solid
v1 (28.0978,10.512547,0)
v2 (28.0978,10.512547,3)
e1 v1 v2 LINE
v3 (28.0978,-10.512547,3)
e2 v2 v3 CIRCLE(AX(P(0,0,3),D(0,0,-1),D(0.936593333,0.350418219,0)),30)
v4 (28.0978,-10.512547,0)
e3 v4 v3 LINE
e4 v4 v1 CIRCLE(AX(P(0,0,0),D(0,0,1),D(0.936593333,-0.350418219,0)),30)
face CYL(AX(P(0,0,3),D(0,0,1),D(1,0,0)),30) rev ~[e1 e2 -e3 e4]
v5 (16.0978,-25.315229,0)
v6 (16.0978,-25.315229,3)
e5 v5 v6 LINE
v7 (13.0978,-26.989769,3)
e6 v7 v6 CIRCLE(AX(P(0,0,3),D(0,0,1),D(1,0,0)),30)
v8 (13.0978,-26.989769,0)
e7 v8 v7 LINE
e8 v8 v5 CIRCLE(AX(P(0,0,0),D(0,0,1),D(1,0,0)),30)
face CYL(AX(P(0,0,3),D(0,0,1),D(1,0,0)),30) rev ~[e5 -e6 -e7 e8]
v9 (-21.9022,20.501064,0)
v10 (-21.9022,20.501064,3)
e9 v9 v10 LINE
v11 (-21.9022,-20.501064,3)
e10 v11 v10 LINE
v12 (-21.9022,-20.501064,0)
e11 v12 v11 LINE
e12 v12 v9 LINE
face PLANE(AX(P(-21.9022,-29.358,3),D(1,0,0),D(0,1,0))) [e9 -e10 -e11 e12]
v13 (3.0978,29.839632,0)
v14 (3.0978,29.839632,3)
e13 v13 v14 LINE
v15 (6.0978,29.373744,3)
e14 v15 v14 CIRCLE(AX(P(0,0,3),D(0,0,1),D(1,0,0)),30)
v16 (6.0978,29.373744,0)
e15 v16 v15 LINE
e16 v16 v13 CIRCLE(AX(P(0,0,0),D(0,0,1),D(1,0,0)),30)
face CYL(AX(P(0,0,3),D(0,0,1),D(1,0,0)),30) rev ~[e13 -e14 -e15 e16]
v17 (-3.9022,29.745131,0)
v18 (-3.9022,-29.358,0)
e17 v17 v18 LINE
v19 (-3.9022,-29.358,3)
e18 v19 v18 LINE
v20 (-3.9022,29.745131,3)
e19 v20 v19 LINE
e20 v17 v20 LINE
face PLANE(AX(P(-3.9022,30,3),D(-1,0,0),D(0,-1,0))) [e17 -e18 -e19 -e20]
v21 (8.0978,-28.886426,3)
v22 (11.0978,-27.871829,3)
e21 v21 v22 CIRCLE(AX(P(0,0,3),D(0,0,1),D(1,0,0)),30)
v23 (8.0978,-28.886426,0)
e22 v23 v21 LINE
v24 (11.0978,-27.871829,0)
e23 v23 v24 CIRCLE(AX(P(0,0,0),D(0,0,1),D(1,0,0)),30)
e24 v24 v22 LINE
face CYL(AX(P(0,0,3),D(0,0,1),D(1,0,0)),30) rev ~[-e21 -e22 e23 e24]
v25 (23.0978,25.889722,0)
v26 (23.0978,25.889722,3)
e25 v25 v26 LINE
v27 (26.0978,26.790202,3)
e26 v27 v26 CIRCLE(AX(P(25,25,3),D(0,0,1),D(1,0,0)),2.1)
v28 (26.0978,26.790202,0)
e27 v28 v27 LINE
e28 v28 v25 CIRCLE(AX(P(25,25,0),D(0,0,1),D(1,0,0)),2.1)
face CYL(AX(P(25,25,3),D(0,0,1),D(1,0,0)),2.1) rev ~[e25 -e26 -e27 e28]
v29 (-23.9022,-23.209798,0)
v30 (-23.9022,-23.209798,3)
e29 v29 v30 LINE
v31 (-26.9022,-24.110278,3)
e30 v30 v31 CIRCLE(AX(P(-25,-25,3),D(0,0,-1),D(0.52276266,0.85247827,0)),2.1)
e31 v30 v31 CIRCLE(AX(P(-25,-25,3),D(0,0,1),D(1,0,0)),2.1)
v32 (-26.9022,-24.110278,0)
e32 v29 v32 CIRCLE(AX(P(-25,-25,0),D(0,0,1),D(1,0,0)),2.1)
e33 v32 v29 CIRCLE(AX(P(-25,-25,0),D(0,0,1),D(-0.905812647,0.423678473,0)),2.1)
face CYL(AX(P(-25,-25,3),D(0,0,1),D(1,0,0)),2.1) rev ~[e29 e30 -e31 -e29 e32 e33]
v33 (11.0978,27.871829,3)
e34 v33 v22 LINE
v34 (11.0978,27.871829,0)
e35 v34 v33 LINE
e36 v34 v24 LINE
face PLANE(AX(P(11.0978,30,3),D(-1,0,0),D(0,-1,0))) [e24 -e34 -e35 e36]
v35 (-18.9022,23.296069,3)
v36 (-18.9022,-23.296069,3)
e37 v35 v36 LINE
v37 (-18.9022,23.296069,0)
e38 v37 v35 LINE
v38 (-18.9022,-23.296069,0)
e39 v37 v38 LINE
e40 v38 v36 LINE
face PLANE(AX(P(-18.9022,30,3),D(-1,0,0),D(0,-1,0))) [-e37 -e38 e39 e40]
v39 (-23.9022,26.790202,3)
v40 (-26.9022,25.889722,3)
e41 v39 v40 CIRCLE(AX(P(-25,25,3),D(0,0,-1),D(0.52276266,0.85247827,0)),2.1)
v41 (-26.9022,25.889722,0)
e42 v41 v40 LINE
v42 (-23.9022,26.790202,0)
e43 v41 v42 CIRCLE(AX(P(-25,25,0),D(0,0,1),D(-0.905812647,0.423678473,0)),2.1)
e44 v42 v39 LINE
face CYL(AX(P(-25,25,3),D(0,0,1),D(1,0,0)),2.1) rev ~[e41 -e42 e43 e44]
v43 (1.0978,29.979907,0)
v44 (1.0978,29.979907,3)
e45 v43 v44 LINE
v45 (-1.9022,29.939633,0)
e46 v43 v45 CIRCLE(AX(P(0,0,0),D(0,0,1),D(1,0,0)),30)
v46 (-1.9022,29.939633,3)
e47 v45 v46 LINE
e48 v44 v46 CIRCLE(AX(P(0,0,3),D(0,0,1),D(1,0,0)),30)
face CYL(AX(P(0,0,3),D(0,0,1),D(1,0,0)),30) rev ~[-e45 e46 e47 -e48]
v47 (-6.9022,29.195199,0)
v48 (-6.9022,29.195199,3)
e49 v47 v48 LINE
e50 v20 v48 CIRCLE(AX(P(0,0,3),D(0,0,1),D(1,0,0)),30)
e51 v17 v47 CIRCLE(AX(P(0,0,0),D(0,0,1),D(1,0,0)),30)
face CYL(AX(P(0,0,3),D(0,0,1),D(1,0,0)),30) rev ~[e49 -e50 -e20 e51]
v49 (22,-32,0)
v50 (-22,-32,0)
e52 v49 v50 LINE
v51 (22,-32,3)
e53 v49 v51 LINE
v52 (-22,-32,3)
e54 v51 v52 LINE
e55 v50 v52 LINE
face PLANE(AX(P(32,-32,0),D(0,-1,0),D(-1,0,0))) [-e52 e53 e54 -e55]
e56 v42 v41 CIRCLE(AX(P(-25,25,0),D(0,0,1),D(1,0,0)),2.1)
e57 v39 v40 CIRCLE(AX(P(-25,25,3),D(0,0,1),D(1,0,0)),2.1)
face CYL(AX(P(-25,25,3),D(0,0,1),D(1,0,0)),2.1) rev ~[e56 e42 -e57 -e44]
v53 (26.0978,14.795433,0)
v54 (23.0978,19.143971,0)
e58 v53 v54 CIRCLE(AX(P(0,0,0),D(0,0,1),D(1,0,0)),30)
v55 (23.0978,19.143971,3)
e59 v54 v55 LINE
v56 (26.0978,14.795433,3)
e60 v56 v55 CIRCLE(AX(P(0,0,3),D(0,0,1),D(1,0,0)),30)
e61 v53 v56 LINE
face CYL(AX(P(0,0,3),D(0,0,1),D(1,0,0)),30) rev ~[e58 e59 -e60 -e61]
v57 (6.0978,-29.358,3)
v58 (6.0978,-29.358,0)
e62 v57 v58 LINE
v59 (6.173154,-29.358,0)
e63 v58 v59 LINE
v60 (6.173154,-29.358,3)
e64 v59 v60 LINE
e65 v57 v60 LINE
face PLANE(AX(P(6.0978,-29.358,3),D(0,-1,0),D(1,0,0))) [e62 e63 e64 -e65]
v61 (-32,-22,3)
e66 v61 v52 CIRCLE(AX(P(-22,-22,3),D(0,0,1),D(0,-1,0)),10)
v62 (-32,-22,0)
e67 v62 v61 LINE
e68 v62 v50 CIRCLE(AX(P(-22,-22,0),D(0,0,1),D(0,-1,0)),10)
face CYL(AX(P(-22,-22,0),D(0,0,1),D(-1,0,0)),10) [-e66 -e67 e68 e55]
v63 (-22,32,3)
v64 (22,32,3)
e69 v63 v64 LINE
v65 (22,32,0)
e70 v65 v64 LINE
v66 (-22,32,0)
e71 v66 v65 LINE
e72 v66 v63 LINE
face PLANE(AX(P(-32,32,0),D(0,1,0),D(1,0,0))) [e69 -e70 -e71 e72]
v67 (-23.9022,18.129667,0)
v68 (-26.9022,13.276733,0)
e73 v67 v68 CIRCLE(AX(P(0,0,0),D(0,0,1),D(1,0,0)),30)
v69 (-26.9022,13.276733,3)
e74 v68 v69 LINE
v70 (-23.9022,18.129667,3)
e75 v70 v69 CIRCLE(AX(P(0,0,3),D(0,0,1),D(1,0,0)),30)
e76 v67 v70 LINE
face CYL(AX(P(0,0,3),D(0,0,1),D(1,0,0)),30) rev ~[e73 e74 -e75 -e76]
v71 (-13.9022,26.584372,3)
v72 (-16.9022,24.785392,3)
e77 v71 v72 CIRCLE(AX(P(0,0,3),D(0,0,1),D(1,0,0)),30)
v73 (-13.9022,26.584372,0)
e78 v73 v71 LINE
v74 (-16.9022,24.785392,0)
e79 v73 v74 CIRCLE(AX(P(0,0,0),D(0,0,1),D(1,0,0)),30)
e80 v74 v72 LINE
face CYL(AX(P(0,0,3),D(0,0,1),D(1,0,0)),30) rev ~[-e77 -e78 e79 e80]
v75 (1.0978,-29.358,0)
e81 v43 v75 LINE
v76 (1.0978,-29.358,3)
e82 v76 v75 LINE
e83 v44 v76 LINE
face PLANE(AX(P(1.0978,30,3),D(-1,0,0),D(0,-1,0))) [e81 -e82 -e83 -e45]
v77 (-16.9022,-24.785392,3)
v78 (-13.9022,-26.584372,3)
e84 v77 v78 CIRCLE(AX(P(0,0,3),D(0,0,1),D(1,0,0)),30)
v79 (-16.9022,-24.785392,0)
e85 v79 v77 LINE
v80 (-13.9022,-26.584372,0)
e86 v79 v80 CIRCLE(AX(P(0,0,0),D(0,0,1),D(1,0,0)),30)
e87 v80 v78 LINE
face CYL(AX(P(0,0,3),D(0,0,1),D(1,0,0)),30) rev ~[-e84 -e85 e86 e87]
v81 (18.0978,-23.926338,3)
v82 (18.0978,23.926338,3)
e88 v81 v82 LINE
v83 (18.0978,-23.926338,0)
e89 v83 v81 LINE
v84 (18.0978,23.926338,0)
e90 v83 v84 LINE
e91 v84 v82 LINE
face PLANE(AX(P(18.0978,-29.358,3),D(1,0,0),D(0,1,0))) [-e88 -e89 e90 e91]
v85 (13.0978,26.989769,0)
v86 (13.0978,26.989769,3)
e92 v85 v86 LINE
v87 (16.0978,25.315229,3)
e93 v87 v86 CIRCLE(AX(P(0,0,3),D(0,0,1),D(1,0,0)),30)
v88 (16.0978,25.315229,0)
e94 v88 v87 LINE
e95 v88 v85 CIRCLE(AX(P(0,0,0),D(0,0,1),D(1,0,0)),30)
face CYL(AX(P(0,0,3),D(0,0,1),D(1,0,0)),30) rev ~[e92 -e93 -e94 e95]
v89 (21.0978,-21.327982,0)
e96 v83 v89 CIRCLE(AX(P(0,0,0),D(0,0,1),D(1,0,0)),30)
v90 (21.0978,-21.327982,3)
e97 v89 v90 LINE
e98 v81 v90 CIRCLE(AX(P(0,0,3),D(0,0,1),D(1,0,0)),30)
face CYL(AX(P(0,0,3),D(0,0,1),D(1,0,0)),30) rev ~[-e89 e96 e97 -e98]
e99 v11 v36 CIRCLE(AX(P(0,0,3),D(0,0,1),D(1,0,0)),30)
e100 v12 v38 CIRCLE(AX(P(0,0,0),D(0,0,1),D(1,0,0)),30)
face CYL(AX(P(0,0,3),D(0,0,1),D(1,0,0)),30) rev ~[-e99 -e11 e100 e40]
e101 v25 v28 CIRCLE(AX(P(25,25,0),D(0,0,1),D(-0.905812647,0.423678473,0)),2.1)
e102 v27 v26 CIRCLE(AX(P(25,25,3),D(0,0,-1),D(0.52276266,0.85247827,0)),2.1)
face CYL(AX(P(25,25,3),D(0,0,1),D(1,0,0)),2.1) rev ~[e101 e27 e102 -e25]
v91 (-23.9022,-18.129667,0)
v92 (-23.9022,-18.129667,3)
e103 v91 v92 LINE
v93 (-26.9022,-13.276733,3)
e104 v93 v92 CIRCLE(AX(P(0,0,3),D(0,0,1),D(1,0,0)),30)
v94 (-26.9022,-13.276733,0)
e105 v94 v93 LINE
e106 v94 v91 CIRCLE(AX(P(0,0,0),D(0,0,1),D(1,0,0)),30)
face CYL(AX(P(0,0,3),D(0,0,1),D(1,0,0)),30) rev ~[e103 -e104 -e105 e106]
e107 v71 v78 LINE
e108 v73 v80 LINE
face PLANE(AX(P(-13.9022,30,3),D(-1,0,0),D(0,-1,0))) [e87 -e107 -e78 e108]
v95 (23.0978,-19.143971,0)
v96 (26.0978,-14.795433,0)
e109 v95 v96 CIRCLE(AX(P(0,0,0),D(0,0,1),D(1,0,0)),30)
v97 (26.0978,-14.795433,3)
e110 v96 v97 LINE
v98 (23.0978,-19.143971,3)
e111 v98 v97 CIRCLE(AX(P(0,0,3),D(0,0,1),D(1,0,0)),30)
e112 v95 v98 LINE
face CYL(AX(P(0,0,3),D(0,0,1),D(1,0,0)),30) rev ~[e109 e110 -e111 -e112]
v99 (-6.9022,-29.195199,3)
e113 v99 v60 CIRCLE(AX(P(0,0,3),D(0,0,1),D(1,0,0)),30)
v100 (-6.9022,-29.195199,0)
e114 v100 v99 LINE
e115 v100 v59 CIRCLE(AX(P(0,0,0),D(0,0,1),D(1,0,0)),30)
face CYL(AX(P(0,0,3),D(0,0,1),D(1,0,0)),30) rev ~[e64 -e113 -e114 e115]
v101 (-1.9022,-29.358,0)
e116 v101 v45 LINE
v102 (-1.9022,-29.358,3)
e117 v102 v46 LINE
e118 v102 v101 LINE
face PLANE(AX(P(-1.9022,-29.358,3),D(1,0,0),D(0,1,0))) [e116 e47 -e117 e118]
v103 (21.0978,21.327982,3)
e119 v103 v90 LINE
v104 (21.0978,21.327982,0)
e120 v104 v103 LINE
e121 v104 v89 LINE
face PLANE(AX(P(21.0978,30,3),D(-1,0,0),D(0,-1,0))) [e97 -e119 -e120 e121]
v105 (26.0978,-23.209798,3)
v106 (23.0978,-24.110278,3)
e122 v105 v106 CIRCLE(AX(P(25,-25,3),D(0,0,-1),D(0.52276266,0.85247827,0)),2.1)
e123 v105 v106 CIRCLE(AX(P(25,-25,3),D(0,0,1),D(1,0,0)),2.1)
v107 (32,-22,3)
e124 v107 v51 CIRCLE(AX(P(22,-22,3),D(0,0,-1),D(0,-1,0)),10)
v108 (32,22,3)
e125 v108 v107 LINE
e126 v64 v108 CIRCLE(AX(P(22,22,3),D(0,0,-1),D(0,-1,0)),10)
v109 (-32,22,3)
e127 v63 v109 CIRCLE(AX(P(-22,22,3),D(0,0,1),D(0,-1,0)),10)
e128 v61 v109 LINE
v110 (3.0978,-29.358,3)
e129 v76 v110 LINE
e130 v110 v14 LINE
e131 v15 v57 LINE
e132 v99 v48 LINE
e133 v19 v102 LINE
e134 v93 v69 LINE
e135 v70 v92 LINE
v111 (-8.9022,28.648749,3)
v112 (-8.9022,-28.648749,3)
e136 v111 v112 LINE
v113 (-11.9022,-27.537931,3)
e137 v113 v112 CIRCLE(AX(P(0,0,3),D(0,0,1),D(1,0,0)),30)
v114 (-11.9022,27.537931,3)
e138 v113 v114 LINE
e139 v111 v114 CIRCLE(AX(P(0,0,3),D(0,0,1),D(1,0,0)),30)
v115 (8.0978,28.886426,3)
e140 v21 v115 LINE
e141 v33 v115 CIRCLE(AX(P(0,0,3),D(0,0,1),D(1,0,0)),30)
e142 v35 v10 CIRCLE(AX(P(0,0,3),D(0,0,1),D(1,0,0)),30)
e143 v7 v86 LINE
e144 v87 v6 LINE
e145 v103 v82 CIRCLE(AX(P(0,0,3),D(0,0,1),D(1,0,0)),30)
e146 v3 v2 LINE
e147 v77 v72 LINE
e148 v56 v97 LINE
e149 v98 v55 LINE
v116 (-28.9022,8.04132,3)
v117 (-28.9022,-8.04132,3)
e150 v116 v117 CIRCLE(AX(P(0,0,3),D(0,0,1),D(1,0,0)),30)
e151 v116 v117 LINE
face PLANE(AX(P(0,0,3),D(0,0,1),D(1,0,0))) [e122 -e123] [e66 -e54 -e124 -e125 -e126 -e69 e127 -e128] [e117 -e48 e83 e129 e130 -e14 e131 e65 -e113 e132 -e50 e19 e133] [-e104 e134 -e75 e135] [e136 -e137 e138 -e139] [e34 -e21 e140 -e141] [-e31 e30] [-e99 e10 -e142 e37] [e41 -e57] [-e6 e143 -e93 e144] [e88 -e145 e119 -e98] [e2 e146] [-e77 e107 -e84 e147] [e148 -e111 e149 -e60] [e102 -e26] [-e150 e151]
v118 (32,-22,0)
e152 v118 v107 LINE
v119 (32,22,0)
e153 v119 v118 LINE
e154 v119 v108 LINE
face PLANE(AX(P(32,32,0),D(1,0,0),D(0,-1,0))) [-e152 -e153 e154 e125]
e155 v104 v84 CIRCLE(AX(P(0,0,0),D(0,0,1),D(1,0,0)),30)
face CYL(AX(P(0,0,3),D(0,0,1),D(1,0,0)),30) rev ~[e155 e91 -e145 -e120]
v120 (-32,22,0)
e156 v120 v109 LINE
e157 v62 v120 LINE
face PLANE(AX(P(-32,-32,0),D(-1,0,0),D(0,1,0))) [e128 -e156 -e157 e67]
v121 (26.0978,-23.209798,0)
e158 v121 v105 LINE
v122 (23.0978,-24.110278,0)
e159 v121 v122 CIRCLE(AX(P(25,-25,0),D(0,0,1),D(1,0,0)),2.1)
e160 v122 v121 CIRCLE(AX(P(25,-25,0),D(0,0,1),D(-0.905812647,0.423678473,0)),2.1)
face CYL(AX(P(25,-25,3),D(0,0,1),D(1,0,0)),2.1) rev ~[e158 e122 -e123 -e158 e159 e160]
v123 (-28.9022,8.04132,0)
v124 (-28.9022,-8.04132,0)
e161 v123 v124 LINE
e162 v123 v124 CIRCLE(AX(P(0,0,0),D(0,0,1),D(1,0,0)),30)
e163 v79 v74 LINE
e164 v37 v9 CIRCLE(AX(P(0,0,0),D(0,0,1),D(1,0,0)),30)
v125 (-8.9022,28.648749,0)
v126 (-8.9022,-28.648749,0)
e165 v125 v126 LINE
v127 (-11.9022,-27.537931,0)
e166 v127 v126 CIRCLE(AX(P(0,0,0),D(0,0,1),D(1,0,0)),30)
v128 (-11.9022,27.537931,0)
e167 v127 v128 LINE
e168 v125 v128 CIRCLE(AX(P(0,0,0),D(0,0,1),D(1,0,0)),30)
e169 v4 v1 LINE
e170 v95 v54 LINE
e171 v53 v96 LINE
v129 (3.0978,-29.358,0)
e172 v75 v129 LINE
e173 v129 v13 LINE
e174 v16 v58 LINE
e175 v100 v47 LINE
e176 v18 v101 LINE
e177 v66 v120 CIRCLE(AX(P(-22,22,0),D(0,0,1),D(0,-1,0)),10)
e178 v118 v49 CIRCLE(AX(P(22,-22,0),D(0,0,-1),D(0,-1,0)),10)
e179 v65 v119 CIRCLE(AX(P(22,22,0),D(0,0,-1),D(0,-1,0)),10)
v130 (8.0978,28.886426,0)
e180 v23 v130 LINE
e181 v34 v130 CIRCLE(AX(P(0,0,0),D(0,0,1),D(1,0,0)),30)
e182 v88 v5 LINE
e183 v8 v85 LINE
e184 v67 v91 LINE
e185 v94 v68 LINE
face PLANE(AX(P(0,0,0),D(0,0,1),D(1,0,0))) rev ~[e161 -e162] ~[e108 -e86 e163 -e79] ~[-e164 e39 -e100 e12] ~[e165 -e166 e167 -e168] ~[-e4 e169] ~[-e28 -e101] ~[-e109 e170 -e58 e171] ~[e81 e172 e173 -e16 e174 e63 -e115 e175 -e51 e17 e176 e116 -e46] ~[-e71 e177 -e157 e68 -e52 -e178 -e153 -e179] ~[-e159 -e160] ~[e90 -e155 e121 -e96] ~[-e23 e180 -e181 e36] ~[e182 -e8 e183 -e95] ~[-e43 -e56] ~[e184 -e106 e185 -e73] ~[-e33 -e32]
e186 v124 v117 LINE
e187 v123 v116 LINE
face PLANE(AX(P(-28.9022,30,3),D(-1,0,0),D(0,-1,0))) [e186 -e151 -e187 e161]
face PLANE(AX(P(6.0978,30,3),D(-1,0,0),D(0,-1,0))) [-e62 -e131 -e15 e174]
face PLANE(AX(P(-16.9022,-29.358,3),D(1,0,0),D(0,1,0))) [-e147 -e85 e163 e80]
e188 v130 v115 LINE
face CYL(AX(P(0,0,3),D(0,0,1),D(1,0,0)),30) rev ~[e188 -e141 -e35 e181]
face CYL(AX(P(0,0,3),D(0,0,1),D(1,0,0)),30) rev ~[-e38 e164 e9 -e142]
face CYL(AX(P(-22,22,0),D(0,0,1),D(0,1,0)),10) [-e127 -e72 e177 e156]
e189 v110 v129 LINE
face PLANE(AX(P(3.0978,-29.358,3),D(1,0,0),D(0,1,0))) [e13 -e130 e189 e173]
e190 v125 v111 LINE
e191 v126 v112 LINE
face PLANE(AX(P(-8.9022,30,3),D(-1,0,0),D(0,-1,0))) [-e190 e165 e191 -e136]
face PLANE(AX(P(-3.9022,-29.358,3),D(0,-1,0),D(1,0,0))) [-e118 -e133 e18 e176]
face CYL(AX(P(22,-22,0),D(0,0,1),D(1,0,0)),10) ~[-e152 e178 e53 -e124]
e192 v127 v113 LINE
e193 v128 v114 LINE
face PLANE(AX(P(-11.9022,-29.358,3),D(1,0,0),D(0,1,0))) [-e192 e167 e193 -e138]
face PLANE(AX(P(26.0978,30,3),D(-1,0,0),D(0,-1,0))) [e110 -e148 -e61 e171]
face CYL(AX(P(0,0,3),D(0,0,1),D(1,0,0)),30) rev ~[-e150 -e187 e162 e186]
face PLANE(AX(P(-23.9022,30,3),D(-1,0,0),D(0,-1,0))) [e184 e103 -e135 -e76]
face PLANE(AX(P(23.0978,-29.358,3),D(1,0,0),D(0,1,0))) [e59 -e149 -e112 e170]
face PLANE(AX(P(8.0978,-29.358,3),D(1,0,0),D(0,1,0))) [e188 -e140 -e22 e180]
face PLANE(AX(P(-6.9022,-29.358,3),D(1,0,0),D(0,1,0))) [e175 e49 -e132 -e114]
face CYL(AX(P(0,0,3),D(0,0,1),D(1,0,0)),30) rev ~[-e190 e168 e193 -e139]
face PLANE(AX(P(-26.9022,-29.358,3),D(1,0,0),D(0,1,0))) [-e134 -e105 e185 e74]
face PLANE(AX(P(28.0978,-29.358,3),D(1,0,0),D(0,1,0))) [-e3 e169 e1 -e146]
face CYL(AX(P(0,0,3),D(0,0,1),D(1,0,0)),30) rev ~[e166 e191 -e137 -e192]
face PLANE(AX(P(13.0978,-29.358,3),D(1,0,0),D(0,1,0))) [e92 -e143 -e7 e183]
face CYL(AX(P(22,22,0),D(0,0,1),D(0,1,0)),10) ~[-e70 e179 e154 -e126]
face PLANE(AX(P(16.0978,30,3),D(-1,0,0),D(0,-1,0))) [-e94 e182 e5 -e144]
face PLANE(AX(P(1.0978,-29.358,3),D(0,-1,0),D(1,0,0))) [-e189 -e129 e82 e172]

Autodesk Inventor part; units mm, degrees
ref_plane "YZ Plane" through (0, 0, 0) normal (1, 0, 0) x (0, 1, 0)
ref_plane "XZ Plane" through (0, 0, 0) normal (0, 1, 0) x (-1, 0, 0)
ref_plane "XY Plane" through (0, 0, 0) normal (0, 0, 1) x (1, 0, 0)
sketch "Skizze1" plane through (0, 0, 0) normal (0, 0, 1) x (1, 0, 0)
  line L0 (-41.5, 35.6804) -> (-41.5, -22.9) construction
  line L1 (-41.5, -22.9) -> (-43.9777, -22.9) construction
  line L2 (-43.9777, -22.9) -> (-43.9777, 35.6804) construction
  line L3 (-43.9777, 35.6804) -> (-41.5, 35.6804) construction
  line L4 (-47.5, 35.6804) -> (-47.5, -0.041) construction
  line L5 (-47.5, -0.041) -> (-49.9777, -0.041) construction
  line L6 (-49.9777, -0.041) -> (-49.9777, 35.6804) construction
  line L7 (-49.9777, 35.6804) -> (-47.5, 35.6804) construction
  circle A0 centre (-47.5, -3) radius 1.35 construction
  line L8 (36.5, 27.1) -> (36.5, -35.7623) construction
  line L9 (36.5, -35.7623) -> (34.0223, -35.7623) construction
  line L10 (34.0223, -35.7623) -> (34.0223, 27.1) construction
  line L11 (34.0223, 27.1) -> (36.5, 27.1) construction
  line L12 (30.5, -25.9706) -> (30.5, -35.7623) construction
  line L13 (30.5, -35.7623) -> (28.0223, -35.7623) construction
  line L14 (28.0223, -35.7623) -> (28.0223, -25.9706) construction
  line L15 (28.0223, -25.9706) -> (30.5, -25.9706) construction
  line L16 (18.5, -28.5) -> (18.5, -35.7623) construction
  line L17 (18.5, -35.7623) -> (16.0223, -35.7623) construction
  line L18 (16.0223, -35.7623) -> (16.0223, -28.5) construction
  line L19 (16.0223, -28.5) -> (18.5, -28.5) construction
  line L20 (-29.5, -16.7561) -> (-29.5, -22.9) construction
  line L21 (-29.5, -22.9) -> (-31.9777, -22.9) construction
  line L22 (-31.9777, -22.9) -> (-31.9777, -16.7561) construction
  line L23 (-31.9777, -16.7561) -> (-29.5, -16.7561) construction
  line L24 (-25.9777, 30.1243) -> (-25.9777, 35.6804) construction
  line L25 (-25.9777, 35.6804) -> (-23.5, 35.6804) construction
  line L26 (-23.5, 35.6804) -> (-23.5, 30.1243) construction
  line L27 (-23.5, 30.1243) -> (-25.9777, 30.1243) construction
  line L28 (16.0223, 31.6466) -> (16.0223, 35.6804) construction
  line L29 (16.0223, 35.6804) -> (18.5, 35.6804) construction
  line L30 (18.5, 35.6804) -> (18.5, 31.6466) construction
  line L31 (18.5, 31.6466) -> (16.0223, 31.6466) construction
  line L32 (-5.5, -32.1312) -> (-5.5, -35.7623) construction
  line L33 (-5.5, -35.7623) -> (-7.9777, -35.7623) construction
  line L34 (-7.9777, -35.7623) -> (-7.9777, -32.1312) construction
  line L35 (-7.9777, -32.1312) -> (-5.5, -32.1312) construction
  line L36 (10.0223, 32.8979) -> (10.0223, 35.6804) construction
  line L37 (10.0223, 35.6804) -> (12.5, 35.6804) construction
  line L38 (12.5, 35.6804) -> (12.5, 32.8979) construction
  line L39 (12.5, 32.8979) -> (10.0223, 32.8979) construction
  line L40 (-7.9777, 33.0955) -> (-7.9777, 35.6804) construction
  line L41 (-7.9777, 35.6804) -> (-5.5, 35.6804) construction
  line L42 (-5.5, 35.6804) -> (-5.5, 33.0955) construction
  line L43 (-5.5, 33.0955) -> (-7.9777, 33.0955) construction
  line L44 (0.5, -33.9467) -> (0.5, -35.7623) construction
  line L45 (0.5, -35.7623) -> (-1.9777, -35.7623) construction
  line L46 (-1.9777, -35.7623) -> (-1.9777, -33.9467) construction
  line L47 (-1.9777, -33.9467) -> (0.5, -33.9467) construction
  line L48 (-1.9777, 34.0902) -> (-1.9777, 35.6804) construction
  line L49 (-1.9777, 35.6804) -> (0.5, 35.6804) construction
  line L50 (0.5, 35.6804) -> (0.5, 34.0902) construction
  line L51 (0.5, 34.0902) -> (-1.9777, 34.0902) construction
  line L52 (6.5, -33.9467) -> (6.5, -35.7623) construction
  line L53 (6.5, -35.7623) -> (4.0223, -35.7623) construction
  line L54 (4.0223, -35.7623) -> (4.0223, -33.9467) construction
  line L55 (4.0223, -33.9467) -> (6.5, -33.9467) construction
  line L56 (4.0223, 32.8979) -> (4.0223, 35.6804) construction
  line L57 (4.0223, 35.6804) -> (6.5, 35.6804) construction
  line L58 (6.5, 35.6804) -> (6.5, 32.8979) construction
  line L59 (6.5, 32.8979) -> (4.0223, 32.8979) construction
  line L60 (-13.9777, 32.5) -> (-13.9777, 35.6804) construction
  line L61 (-13.9777, 35.6804) -> (-11.5, 35.6804) construction
  line L62 (-11.5, 35.6804) -> (-11.5, 32.5) construction
  line L63 (-11.5, 32.5) -> (-13.9777, 32.5) construction
  line L64 (12.5, -32.1312) -> (12.5, -35.7623) construction
  line L65 (12.5, -35.7623) -> (10.0223, -35.7623) construction
  line L66 (10.0223, -35.7623) -> (10.0223, -32.1312) construction
  line L67 (10.0223, -32.1312) -> (12.5, -32.1312) construction
  line L68 (-19.9777, 31.3064) -> (-19.9777, 35.6804) construction
  line L69 (-19.9777, 35.6804) -> (-17.5, 35.6804) construction
  line L70 (-17.5, 35.6804) -> (-17.5, 31.3064) construction
  line L71 (-17.5, 31.3064) -> (-19.9777, 31.3064) construction
  line L72 (22.0223, 30) -> (22.0223, 35.6804) construction
  line L73 (22.0223, 35.6804) -> (24.5, 35.6804) construction
  line L74 (24.5, 35.6804) -> (24.5, 30) construction
  line L75 (24.5, 30) -> (22.0223, 30) construction
  line L76 (-29.5, 27.1) -> (-29.5, 20.9081) construction
  line L77 (-29.5, 20.9081) -> (-31.9777, 20.9081) construction
  line L78 (-31.9777, 20.9081) -> (-31.9777, 27.1) construction
  line L79 (-31.9777, 27.1) -> (-29.5, 27.1) construction
  line L80 (24.5, -28.5) -> (24.5, -35.7623) construction
  line L81 (24.5, -35.7623) -> (22.0223, -35.7623) construction
  line L82 (22.0223, -35.7623) -> (22.0223, -28.5) construction
  line L83 (22.0223, -28.5) -> (24.5, -28.5) construction
  line L84 (-49.9777, -22.9) -> (-49.9777, -6.1402) construction
  line L85 (-49.9777, -6.1402) -> (-47.5, -6.1402) construction
  line L86 (-47.5, -6.1402) -> (-47.5, -22.9) construction
  line L87 (-47.5, -22.9) -> (-49.9777, -22.9) construction
  line L88 (46.0223, -27.1) -> (46.0223, 35.6804) construction
  line L89 (46.0223, 35.6804) -> (48.5, 35.6804) construction
  line L90 (48.5, 35.6804) -> (48.5, -27.1) construction
  line L91 (48.5, -27.1) -> (46.0223, -27.1) construction
  line L92 (40.0223, 35.6804) -> (42.5, 35.6804) construction
  line L93 (42.5, 35.6804) -> (42.5, -35.7623) construction
  line L94 (42.5, -35.7623) -> (40.0223, -35.7623) construction
  line L95 (40.0223, -35.7623) -> (40.0223, 35.6804) construction
  circle A1 centre (25, 25) radius 2.1 construction
  circle A2 centre (-25, 25) radius 2.1 construction
  circle A3 centre (-25, -25) radius 2.1 construction
  circle A4 centre (25, -25) radius 2.1 construction
  circle A5 centre (32, 32.5) radius 1.35 construction
  circle A6 centre (-30, 32.5) radius 1.35 construction
  circle A7 centre (47.5, -32.5) radius 1.35 construction
  line L96 (-35.5, 35.6804) -> (-35.5, -22.9) construction
  line L97 (-35.5, -22.9) -> (-37.9777, -22.9) construction
  line L98 (-37.9777, -22.9) -> (-37.9777, 35.6804) construction
  line L99 (-37.9777, 35.6804) -> (-35.5, 35.6804) construction
  line L100 (-52.5, -24.5) -> (-52.5, 37.5) construction
  line L101 (-52.5, -24.5) -> (-32.8176, -24.5) construction
  arc A8 (-32.8176, -24.5) -> (-11.4624, -29.9989) centre (-10.5668, 17.6958) ccw construction
  arc A9 (-9.5, -31.9985) -> (-11.4624, -29.9989) centre (-11.5, -31.9985) ccw construction
  line L102 (-9.5, -31.9985) -> (-9.5, -37.5) construction
  line L103 (52.5, -37.5) -> (-9.5, -37.5) construction
  line L104 (52.5, 37.5) -> (52.5, -37.5) construction
  line L105 (-52.5, 37.5) -> (52.5, 37.5) construction
  circle A10 centre (0, 0) radius 32 construction
  line L106 (-32, 32) -> (32, 32)
  line L107 (32, 32) -> (32, -32)
  line L108 (32, -32) -> (-32, -32)
  line L109 (-32, -32) -> (-32, 32)
  line L110 (-32, 32) -> (32, -32) construction
  line L111 (32, 32) -> (-32, -32) construction
extrude "Extrusion1" add sketch "Skizze1" along normal blind 3
sketch "Skizze2" plane through (0, 0, 3) normal (0, 0, 1) x (1, 0, 0)
  circle A0 centre (0, 0) radius 30 projected
  circle A1 centre (25, 25) radius 2.1 projected
  circle A2 centre (-25, 25) radius 2.1 projected
  circle A3 centre (-25, -25) radius 2.1 projected
  circle A4 centre (25, -25) radius 2.1 projected
extrude "Extrusion2" cut sketch "Skizze2" against normal through all
sketch "Skizze3" plane through (0, 0, 3) normal (0, 0, 1) x (1, 0, 0)
  line L0 (28.0978, 30) -> (26.0978, 30)
  line L1 (26.0978, 30) -> (26.0978, -29.358)
  line L2 (26.0978, -29.358) -> (28.0978, -29.358)
  line L3 (28.0978, -29.358) -> (28.0978, 30)
  line L4 (32, 32) -> (-32, 32) construction
  line L5 (23.0978, 30) -> (21.0978, 30)
  line L6 (21.0978, 30) -> (21.0978, -29.358)
  line L7 (21.0978, -29.358) -> (23.0978, -29.358)
  line L8 (23.0978, -29.358) -> (23.0978, 30)
  line L9 (18.0978, 30) -> (16.0978, 30)
  line L10 (16.0978, 30) -> (16.0978, -29.358)
  line L11 (16.0978, -29.358) -> (18.0978, -29.358)
  line L12 (18.0978, -29.358) -> (18.0978, 30)
  line L13 (13.0978, 30) -> (11.0978, 30)
  line L14 (11.0978, 30) -> (11.0978, -29.358)
  line L15 (11.0978, -29.358) -> (13.0978, -29.358)
  line L16 (13.0978, -29.358) -> (13.0978, 30)
  line L17 (8.0978, 30) -> (6.0978, 30)
  line L18 (6.0978, 30) -> (6.0978, -29.358)
  line L19 (6.0978, -29.358) -> (8.0978, -29.358)
  line L20 (8.0978, -29.358) -> (8.0978, 30)
  line L21 (3.0978, 30) -> (1.0978, 30)
  line L22 (1.0978, 30) -> (1.0978, -29.358)
  line L23 (1.0978, -29.358) -> (3.0978, -29.358)
  line L24 (3.0978, -29.358) -> (3.0978, 30)
  line L25 (-1.9022, 30) -> (-3.9022, 30)
  line L26 (-3.9022, 30) -> (-3.9022, -29.358)
  line L27 (-3.9022, -29.358) -> (-1.9022, -29.358)
  line L28 (-1.9022, -29.358) -> (-1.9022, 30)
  line L29 (-6.9022, 30) -> (-8.9022, 30)
  line L30 (-8.9022, 30) -> (-8.9022, -29.358)
  line L31 (-8.9022, -29.358) -> (-6.9022, -29.358)
  line L32 (-6.9022, -29.358) -> (-6.9022, 30)
  line L33 (-11.9022, 30) -> (-13.9022, 30)
  line L34 (-13.9022, 30) -> (-13.9022, -29.358)
  line L35 (-13.9022, -29.358) -> (-11.9022, -29.358)
  line L36 (-11.9022, -29.358) -> (-11.9022, 30)
  line L37 (-16.9022, 30) -> (-18.9022, 30)
  line L38 (-18.9022, 30) -> (-18.9022, -29.358)
  line L39 (-18.9022, -29.358) -> (-16.9022, -29.358)
  line L40 (-16.9022, -29.358) -> (-16.9022, 30)
  line L41 (-21.9022, 30) -> (-23.9022, 30)
  line L42 (-23.9022, 30) -> (-23.9022, -29.358)
  line L43 (-23.9022, -29.358) -> (-21.9022, -29.358)
  line L44 (-21.9022, -29.358) -> (-21.9022, 30)
  line L45 (-26.9022, 30) -> (-28.9022, 30)
  line L46 (-28.9022, 30) -> (-28.9022, -29.358)
  line L47 (-28.9022, -29.358) -> (-26.9022, -29.358)
  line L48 (-26.9022, -29.358) -> (-26.9022, 30)
  point P0 (0, 0)
  dimension "d4" = 2
  dimension "d7" = 5
extrude "Extrusion3" add sketch "Skizze3" against normal blind 3
sketch "Skizze4" plane through (0, 0, 3) normal (0, 0, 1) x (1, 0, 0)
  arc A0 (-23.9022, 26.7902) -> (-26.9022, 25.8897) centre (-25, 25) ccw projected
  arc A1 (26.0978, 26.7902) -> (23.0978, 25.8897) centre (25, 25) ccw projected
  arc A2 (26.0978, -23.2098) -> (23.0978, -24.1103) centre (25, -25) ccw projected
  arc A3 (-23.9022, -23.2098) -> (-26.9022, -24.1103) centre (-25, -25) ccw projected
  circle A4 centre (-25, 25) radius 2.1
  circle A5 centre (25, 25) radius 2.1
  circle A6 centre (25, -25) radius 2.1
  circle A7 centre (-25, -25) radius 2.1
  point P0 (0, 0)
extrude "Extrusion4" cut sketch "Skizze4" against normal blind 3
fillet "Rundung1" radius 10 4 edges at (32, 32, 1.5) (32, -32, 1.5) (-32, 32, 1.5) (-32, -32, 1.5)
properties part number "Fan_blend"
